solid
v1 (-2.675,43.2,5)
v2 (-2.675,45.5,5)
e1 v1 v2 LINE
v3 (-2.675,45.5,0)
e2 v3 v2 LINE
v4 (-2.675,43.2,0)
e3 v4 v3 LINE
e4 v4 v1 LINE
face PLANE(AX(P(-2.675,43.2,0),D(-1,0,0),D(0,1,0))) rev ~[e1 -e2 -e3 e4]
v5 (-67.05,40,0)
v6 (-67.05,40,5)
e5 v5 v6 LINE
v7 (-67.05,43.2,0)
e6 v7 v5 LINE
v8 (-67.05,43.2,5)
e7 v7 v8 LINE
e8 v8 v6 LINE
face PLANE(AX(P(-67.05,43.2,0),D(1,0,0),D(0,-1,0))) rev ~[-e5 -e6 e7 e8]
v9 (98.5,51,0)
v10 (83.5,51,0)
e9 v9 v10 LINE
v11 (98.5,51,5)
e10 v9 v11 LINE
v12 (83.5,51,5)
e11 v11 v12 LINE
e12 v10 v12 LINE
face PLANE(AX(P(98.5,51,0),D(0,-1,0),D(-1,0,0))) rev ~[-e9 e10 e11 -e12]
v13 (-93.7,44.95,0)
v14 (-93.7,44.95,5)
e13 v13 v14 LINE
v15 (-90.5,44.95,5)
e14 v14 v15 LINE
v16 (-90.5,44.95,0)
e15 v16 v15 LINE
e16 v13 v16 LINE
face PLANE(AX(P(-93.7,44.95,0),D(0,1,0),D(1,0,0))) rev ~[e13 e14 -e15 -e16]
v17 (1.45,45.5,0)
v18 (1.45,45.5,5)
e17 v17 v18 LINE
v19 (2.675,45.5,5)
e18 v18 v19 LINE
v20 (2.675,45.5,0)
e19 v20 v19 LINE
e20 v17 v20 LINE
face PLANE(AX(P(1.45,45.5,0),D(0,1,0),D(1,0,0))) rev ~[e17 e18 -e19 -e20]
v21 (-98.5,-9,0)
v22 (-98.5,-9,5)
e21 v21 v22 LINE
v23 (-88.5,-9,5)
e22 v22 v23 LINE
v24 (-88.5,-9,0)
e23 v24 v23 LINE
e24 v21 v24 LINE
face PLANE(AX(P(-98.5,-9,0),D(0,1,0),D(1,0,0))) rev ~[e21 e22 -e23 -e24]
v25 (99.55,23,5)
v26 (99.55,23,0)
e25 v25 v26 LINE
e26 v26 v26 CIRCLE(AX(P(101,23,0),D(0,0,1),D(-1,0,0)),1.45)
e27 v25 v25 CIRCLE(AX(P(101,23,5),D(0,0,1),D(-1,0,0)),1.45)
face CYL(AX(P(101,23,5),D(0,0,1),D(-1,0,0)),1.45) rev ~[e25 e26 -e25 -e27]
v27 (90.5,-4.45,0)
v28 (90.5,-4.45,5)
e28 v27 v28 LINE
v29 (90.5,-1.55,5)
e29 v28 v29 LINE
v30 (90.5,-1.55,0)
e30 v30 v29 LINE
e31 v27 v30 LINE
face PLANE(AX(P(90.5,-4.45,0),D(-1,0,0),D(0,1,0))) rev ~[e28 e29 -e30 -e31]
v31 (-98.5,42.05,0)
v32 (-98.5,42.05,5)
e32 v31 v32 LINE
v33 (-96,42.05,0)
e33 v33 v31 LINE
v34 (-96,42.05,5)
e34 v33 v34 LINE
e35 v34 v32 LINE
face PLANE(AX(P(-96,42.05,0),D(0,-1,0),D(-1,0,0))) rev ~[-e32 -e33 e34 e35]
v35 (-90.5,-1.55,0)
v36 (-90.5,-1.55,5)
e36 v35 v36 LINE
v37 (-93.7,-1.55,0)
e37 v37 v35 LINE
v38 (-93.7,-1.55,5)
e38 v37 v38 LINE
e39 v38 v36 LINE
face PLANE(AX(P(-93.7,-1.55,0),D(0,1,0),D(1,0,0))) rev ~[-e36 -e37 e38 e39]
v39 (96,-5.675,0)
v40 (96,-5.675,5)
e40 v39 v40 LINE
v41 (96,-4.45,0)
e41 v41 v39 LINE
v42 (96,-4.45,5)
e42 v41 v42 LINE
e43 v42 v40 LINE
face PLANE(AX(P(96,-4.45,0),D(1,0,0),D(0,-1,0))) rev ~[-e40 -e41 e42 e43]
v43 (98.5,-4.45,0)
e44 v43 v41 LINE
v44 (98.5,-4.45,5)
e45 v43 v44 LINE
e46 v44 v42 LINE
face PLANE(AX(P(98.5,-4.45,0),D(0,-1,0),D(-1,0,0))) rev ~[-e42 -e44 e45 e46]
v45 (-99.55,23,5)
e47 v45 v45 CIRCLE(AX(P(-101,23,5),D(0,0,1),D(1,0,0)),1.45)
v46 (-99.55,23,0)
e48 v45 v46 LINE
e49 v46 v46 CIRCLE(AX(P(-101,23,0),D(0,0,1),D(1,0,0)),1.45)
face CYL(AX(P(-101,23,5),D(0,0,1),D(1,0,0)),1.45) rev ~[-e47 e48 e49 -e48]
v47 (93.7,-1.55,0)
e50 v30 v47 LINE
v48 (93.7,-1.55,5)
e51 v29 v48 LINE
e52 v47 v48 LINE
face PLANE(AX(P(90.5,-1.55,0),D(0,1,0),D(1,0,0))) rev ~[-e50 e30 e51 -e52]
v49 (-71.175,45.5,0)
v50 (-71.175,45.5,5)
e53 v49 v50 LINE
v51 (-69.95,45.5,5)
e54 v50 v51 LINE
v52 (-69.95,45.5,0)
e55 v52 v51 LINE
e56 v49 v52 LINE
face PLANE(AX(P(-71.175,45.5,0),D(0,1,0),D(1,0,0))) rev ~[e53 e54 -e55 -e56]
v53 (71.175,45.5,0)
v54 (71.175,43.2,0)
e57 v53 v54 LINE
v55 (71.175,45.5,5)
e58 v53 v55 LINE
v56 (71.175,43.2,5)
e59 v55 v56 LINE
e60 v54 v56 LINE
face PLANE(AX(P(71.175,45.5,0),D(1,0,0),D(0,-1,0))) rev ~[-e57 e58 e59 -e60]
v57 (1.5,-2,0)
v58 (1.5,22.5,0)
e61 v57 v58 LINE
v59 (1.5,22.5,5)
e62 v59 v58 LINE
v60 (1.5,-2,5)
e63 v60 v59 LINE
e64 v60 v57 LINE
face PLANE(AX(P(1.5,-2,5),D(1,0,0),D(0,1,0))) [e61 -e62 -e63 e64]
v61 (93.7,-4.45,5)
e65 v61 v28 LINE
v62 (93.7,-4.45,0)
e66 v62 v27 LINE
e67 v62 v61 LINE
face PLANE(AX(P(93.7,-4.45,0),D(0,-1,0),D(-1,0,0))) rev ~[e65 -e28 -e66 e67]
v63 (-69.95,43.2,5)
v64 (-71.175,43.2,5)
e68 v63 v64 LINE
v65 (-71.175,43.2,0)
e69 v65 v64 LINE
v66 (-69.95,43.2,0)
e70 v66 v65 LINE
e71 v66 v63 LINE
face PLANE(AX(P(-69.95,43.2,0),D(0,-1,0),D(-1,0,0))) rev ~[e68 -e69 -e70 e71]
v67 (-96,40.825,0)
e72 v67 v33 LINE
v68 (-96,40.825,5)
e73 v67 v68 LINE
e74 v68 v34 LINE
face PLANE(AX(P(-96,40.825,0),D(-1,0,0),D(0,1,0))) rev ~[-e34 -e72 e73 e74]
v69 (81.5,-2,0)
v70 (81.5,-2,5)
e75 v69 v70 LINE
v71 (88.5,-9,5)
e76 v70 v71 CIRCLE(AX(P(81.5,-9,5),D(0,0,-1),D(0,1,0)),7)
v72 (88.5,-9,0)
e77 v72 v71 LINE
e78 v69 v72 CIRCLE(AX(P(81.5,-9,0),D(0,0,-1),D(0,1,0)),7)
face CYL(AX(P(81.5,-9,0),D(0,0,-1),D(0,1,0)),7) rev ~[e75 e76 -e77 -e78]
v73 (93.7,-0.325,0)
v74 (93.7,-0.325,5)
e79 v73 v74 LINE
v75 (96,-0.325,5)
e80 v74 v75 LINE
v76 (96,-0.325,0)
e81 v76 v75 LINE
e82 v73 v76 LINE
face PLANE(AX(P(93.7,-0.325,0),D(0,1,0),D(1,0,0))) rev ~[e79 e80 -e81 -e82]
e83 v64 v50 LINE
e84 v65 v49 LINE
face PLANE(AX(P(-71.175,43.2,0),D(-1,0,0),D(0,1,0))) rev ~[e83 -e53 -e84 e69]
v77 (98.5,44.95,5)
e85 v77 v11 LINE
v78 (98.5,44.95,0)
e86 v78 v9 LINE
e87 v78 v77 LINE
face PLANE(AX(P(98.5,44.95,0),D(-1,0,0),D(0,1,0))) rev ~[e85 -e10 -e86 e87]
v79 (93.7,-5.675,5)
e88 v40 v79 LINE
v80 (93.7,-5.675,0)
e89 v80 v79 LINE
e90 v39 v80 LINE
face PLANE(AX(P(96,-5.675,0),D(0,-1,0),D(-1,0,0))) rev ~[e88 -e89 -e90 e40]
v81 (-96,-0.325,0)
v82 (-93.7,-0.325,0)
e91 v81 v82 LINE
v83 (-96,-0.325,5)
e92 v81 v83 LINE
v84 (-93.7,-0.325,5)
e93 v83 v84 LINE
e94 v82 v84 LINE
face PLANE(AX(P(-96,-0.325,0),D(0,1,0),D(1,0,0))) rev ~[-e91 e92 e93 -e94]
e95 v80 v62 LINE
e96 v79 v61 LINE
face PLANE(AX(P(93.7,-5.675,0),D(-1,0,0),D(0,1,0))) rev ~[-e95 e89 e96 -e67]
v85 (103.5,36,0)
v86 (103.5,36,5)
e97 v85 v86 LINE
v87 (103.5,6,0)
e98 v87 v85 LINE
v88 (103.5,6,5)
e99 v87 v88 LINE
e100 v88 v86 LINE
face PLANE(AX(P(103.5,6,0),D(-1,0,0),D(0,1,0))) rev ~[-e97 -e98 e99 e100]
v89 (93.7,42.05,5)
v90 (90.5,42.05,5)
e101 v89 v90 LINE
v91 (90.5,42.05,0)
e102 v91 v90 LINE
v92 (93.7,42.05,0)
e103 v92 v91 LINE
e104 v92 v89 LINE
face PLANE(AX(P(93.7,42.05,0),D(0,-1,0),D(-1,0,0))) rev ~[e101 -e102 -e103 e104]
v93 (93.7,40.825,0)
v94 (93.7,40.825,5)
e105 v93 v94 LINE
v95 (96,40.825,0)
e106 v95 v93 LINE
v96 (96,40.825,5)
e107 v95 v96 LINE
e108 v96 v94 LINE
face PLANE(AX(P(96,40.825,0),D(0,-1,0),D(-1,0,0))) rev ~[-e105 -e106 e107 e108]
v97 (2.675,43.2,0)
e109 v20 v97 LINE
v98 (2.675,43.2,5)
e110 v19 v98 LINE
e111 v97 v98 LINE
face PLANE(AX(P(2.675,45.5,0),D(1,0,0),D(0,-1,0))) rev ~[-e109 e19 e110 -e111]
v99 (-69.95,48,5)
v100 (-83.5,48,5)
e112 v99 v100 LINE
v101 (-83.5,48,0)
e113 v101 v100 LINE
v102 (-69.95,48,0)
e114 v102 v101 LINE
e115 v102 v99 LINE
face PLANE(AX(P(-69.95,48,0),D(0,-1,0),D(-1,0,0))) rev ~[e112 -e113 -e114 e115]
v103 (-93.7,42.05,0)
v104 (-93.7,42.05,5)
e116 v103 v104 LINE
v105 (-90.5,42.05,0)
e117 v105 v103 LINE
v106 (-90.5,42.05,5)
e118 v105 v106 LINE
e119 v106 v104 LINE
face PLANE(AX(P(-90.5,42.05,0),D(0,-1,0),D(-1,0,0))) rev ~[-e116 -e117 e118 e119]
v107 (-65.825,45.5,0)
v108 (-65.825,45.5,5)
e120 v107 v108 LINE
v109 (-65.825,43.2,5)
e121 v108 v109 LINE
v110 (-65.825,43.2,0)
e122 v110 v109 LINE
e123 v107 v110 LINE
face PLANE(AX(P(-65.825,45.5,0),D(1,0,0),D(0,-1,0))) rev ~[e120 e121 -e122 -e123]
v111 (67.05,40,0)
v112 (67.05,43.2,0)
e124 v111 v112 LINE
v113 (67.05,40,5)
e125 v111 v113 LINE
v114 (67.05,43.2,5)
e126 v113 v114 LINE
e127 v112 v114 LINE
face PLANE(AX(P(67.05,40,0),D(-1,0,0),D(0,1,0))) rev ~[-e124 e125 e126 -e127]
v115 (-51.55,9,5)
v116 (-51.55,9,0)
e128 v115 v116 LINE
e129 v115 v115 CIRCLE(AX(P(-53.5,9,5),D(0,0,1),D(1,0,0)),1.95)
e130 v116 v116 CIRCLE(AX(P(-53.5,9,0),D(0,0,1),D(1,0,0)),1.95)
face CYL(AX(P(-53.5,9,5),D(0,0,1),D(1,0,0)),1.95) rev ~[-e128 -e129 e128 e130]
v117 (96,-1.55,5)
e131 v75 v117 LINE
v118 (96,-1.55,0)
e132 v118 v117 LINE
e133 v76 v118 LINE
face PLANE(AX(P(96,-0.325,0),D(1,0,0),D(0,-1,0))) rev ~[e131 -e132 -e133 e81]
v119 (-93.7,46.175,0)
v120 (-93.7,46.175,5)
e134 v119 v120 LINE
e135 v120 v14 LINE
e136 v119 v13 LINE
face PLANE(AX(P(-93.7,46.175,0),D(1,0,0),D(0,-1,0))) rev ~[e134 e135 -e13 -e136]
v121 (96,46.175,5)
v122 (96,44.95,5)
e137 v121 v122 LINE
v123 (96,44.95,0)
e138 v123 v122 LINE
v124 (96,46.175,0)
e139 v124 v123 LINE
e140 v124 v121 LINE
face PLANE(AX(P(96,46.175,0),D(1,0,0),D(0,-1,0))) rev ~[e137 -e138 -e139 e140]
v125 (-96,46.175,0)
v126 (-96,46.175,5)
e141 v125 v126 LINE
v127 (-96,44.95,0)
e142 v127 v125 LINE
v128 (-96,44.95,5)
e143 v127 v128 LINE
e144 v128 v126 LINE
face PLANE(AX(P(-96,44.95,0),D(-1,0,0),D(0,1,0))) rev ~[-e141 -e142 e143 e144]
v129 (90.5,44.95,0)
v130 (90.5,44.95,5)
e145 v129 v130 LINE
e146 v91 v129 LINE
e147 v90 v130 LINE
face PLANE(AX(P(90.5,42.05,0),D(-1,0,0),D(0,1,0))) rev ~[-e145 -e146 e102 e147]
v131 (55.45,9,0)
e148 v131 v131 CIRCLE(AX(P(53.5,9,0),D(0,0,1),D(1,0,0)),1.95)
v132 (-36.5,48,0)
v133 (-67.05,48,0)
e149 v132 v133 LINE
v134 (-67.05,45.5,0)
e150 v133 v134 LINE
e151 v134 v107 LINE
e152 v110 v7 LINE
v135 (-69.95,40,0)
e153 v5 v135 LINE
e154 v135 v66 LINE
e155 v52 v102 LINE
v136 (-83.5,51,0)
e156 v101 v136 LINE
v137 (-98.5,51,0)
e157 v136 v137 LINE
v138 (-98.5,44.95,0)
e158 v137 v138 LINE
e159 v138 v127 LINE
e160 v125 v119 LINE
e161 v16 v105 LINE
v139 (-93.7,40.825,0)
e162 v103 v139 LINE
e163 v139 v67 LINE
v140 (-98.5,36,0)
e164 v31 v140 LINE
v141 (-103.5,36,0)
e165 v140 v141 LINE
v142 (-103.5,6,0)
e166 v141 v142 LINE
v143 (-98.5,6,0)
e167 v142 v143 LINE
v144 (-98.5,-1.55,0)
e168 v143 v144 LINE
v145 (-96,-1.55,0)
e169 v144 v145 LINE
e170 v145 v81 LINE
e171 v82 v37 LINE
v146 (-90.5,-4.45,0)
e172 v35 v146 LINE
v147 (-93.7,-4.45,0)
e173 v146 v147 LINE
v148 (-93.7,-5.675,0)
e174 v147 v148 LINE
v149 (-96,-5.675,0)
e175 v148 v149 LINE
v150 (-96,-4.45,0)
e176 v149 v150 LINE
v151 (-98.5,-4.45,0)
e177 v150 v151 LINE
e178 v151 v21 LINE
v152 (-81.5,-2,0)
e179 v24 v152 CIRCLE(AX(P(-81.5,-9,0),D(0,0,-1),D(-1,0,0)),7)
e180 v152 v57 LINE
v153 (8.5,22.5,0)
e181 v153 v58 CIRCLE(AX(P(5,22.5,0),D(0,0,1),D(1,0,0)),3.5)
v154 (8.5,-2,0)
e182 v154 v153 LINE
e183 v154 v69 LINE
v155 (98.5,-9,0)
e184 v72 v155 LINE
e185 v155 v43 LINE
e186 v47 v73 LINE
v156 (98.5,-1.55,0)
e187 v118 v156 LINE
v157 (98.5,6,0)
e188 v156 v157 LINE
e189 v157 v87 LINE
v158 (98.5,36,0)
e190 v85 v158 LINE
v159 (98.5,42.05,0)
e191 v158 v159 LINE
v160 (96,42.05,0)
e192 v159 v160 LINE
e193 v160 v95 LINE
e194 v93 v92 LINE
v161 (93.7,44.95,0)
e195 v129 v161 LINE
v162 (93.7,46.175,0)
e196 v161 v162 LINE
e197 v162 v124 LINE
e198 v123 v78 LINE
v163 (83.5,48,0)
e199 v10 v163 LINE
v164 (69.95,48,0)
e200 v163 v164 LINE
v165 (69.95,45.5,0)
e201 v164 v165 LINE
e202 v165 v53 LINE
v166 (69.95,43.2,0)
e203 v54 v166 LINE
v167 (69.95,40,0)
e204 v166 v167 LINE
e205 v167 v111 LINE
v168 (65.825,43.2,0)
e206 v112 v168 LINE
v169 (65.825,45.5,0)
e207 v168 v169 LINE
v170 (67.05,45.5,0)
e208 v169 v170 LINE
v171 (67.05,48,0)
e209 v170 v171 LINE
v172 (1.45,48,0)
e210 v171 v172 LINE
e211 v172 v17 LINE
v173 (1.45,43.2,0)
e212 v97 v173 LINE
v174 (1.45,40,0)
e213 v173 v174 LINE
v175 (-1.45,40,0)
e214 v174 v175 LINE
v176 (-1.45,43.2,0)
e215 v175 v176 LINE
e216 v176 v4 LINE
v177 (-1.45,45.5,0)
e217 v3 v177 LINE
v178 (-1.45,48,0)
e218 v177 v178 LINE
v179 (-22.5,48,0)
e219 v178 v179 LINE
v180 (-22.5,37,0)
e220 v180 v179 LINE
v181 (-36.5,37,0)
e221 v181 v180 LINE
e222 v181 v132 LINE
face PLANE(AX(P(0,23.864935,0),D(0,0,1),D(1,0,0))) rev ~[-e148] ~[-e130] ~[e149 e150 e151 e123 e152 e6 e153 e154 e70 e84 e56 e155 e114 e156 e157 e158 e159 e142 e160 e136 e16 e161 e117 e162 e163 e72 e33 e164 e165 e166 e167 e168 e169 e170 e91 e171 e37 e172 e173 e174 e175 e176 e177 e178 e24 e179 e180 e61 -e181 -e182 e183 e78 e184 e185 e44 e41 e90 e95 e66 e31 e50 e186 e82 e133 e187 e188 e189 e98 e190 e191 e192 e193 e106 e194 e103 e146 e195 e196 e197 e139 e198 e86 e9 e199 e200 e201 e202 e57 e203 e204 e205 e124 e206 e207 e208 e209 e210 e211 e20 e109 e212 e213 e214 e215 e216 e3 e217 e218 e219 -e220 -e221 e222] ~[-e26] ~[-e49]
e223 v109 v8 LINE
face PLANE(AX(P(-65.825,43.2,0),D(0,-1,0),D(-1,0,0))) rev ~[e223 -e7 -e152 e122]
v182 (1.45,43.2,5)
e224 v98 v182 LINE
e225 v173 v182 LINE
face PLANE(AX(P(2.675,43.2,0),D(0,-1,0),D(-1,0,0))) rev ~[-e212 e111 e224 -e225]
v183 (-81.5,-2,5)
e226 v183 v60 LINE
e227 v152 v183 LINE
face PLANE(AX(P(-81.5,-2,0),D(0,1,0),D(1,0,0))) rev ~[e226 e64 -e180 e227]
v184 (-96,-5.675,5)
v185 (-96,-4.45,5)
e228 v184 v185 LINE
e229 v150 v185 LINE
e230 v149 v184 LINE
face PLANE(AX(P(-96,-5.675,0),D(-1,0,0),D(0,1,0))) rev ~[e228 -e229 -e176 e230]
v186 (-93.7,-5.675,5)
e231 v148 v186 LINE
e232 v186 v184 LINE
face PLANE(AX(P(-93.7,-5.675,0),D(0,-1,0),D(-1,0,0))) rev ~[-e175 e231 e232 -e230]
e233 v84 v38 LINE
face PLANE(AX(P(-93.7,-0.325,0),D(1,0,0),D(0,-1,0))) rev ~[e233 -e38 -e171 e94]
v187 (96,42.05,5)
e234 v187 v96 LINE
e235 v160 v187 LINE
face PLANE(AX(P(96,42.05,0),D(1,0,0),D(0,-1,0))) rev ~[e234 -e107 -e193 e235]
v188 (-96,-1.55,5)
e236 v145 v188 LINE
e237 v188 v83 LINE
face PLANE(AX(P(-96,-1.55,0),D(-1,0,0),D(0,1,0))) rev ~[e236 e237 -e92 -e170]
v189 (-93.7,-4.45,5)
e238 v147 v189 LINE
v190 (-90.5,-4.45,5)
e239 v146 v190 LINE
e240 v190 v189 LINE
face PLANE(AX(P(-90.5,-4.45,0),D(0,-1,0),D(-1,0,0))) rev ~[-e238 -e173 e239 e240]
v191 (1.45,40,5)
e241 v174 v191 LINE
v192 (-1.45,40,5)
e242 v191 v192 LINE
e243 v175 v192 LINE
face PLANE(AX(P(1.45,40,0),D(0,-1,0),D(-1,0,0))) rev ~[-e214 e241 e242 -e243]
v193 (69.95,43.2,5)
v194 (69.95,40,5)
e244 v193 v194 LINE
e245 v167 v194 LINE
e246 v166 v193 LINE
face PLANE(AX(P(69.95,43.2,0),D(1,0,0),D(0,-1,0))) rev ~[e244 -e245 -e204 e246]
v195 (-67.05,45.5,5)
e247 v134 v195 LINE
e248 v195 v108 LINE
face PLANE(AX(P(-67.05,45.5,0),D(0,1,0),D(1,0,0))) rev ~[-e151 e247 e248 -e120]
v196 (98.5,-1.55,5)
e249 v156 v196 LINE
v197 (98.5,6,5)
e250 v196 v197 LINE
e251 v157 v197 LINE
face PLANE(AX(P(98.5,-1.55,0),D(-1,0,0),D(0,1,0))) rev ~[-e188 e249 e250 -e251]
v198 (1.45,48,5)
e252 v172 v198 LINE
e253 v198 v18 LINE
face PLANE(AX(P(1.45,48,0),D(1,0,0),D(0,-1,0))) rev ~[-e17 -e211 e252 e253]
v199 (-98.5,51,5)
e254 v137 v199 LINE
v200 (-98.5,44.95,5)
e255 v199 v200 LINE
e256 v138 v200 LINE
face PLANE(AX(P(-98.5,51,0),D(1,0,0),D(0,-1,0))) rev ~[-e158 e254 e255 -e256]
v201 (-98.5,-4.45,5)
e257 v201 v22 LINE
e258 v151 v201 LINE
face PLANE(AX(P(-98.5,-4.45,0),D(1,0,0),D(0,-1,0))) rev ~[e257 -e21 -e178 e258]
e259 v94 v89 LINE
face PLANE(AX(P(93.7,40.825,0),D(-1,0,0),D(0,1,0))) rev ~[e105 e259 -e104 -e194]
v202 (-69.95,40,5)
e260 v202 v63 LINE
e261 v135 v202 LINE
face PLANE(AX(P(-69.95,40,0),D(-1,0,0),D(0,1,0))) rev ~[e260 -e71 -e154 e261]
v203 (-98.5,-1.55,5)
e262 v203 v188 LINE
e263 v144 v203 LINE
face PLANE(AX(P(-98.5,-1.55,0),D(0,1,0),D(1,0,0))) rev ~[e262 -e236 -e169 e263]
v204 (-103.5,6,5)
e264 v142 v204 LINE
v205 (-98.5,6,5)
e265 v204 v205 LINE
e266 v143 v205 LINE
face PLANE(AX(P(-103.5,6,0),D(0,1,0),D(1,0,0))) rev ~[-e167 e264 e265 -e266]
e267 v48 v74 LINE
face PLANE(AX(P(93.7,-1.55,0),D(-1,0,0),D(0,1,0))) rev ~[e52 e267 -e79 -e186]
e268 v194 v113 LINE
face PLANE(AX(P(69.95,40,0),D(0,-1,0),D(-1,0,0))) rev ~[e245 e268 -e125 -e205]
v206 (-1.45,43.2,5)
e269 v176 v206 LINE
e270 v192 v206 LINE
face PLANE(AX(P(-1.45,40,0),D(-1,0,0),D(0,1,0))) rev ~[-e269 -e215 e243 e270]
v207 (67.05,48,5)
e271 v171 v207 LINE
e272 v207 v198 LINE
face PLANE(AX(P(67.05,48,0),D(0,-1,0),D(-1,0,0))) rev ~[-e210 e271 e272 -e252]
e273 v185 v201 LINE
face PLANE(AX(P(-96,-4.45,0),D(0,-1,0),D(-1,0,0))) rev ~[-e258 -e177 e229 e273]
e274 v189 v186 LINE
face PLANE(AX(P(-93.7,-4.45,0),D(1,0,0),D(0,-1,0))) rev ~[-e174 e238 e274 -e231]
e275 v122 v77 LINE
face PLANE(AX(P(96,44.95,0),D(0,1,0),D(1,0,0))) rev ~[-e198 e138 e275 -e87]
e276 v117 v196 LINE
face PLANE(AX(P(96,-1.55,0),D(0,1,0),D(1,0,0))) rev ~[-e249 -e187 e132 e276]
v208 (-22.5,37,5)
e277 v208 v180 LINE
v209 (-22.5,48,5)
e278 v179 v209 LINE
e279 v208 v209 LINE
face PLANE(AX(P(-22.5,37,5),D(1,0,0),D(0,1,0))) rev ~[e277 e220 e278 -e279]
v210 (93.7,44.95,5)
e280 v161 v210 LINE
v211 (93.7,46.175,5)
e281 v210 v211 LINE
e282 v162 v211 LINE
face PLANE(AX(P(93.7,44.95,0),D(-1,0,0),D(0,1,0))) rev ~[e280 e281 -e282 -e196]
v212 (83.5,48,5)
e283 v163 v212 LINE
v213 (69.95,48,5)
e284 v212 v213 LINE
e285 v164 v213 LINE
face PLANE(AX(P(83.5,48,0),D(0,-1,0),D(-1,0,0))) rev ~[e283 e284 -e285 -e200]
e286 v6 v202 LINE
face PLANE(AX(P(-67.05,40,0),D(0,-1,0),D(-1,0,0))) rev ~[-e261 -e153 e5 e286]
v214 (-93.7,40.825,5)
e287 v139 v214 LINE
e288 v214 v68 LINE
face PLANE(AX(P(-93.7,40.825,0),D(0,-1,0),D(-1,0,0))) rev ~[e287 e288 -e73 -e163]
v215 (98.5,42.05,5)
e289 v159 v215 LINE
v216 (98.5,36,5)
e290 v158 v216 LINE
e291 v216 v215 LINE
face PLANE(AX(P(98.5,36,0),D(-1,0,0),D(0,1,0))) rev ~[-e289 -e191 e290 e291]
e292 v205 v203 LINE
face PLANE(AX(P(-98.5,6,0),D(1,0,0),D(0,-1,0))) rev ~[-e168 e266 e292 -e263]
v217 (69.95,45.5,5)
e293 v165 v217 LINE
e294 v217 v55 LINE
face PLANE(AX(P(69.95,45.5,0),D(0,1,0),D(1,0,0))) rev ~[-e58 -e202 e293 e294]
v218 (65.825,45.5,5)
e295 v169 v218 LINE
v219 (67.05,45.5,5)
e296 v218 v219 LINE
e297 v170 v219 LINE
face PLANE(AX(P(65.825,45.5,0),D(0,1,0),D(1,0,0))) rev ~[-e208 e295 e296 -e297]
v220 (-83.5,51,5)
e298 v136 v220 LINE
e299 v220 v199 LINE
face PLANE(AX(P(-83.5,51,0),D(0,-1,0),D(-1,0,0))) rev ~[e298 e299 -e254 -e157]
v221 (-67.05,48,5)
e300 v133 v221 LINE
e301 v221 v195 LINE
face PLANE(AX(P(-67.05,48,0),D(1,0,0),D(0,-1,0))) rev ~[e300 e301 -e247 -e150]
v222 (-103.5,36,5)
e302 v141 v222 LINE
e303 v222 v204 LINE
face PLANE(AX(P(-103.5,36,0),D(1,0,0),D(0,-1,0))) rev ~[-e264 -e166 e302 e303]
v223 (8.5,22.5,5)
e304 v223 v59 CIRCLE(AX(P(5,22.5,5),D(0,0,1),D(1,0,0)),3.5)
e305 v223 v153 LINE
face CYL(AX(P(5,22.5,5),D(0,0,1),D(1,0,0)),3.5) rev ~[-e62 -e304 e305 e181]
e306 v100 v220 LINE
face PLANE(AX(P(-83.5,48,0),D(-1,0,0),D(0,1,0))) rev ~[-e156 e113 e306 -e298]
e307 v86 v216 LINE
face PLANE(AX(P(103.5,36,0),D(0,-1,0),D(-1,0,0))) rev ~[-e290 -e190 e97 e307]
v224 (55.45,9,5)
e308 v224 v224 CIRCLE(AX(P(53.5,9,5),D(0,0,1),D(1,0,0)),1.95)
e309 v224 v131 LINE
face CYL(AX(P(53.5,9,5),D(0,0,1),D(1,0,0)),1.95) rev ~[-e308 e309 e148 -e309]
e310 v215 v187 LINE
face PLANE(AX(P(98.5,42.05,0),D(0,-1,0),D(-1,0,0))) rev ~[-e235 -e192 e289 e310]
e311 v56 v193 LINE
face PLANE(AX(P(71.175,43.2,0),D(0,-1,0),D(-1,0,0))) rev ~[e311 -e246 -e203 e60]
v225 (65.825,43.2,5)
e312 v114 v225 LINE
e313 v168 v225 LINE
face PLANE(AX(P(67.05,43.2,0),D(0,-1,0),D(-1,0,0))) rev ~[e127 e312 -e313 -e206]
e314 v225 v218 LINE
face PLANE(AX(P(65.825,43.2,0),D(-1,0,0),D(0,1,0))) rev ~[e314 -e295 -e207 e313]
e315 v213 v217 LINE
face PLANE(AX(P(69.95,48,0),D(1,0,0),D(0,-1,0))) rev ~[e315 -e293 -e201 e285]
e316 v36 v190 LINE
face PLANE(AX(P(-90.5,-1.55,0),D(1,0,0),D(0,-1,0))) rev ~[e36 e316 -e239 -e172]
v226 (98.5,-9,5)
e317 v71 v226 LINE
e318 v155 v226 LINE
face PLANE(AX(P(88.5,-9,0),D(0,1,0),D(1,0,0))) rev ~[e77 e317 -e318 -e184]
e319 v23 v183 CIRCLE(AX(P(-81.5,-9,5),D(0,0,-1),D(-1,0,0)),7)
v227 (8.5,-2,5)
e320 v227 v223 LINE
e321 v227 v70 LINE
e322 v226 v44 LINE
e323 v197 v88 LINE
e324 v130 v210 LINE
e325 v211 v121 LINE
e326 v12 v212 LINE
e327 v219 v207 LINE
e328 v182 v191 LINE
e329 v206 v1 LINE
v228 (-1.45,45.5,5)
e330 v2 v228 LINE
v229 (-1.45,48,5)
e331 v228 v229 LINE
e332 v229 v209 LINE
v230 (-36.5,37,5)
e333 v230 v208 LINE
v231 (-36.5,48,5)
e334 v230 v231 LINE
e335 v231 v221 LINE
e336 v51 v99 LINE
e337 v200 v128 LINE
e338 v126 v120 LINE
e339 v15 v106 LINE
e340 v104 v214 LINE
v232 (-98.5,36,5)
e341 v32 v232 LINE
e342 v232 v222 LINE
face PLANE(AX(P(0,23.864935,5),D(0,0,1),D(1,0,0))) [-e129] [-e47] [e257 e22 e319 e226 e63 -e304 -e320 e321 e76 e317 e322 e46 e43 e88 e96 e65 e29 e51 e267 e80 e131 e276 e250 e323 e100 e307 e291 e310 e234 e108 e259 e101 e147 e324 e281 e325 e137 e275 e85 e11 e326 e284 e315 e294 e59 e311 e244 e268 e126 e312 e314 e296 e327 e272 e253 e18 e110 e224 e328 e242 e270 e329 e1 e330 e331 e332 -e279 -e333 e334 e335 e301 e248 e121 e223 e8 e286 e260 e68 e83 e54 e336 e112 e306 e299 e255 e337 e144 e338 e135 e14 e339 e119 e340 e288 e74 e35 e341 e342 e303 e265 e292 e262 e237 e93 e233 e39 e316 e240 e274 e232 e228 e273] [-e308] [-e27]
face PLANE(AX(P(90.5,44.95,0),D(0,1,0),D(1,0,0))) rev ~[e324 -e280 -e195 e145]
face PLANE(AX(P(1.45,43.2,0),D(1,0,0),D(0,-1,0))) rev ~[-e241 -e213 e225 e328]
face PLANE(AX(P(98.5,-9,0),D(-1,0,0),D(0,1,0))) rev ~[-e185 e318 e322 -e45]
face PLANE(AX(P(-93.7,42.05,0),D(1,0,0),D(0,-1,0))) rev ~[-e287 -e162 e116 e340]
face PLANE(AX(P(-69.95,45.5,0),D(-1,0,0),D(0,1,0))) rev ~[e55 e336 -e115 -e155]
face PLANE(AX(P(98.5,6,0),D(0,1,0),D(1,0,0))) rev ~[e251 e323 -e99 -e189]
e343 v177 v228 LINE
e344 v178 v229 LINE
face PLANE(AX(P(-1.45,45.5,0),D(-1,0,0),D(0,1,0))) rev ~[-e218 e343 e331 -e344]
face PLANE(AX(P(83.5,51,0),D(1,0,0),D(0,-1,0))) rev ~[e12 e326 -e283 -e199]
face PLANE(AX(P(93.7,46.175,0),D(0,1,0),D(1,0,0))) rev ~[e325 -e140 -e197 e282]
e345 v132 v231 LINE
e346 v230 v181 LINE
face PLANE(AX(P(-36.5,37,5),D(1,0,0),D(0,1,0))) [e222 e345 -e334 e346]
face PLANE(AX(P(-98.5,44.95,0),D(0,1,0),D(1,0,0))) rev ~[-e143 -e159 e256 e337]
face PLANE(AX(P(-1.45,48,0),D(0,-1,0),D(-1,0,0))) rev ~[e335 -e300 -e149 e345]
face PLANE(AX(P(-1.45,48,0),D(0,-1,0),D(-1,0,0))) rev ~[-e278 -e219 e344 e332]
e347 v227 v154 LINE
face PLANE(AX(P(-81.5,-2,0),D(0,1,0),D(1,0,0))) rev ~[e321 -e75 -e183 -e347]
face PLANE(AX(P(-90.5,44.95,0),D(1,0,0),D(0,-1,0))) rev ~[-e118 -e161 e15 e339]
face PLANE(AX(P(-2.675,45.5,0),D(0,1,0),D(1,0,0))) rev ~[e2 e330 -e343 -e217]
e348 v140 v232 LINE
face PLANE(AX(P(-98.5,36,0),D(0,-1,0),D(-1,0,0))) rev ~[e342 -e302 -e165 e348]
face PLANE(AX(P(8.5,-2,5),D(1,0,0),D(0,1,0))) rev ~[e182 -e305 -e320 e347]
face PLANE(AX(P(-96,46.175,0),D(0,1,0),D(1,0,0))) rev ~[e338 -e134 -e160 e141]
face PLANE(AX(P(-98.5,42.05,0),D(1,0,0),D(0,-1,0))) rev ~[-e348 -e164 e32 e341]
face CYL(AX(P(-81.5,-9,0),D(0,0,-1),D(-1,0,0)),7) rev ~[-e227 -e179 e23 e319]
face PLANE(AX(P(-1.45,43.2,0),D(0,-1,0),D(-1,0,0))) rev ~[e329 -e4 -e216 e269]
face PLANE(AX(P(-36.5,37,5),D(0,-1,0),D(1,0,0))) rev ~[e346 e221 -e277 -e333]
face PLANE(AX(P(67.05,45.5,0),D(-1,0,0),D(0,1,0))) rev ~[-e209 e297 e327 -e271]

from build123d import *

# Parameters (mm, degrees)
BOSS_EXTRUDE1_DEPTH = 5
SKETCH2_W           = 14
SKETCH2_H           = 12
CUT_EXTRUDE1_DEPTH  = 116.491341667
SKETCH3_R           = 3.5
SKETCH3_W           = 7
SKETCH3_H           = 24.5
CUT_EXTRUDE2_DEPTH  = 116.491341667
SKETCH4_R           = 1.45
SKETCH4_W           = 8
SKETCH4_H           = 2.9
SKETCH4_W_2         = 2.3
SKETCH4_H_2         = 5.35
SKETCH4_W_3         = 2.9
SKETCH4_H_3         = 8
SKETCH4_W_4         = 5.35
SKETCH4_H_4         = 2.3
CUT_EXTRUDE3_DEPTH  = 116.491341667
SKETCH5_R           = 1.95
CUT_EXTRUDE4_DEPTH  = 116.491341667


with BuildPart() as part:
    # Sketch1 → Boss-Extrude1 (new body)
    with BuildSketch(Plane.XY):
        with BuildLine():
            Line((-83.5, 48), (-83.5, 51))
            Line((-83.5, 51), (-98.5, 51))
            Line((-98.5, 51), (-98.5, 44.95))
            Line((-98.5, 44.95), (-96, 44.95))
            Line((-96, 44.95), (-96, 46.175))
            Line((-96, 46.175), (-93.7, 46.175))
            Line((-93.7, 46.175), (-93.7, 44.95))
            Line((-93.7, 44.95), (-90.5, 44.95))
            Line((-90.5, 44.95), (-90.5, 42.05))
            Line((-90.5, 42.05), (-93.7, 42.05))
            Line((-93.7, 42.05), (-93.7, 40.825))
            Line((-93.7, 40.825), (-96, 40.825))
            Line((-96, 40.825), (-96, 42.05))
            Line((-96, 42.05), (-98.5, 42.05))
            Line((-98.5, 42.05), (-98.5, 36))
            Line((-98.5, 36), (-103.5, 36))
            Line((-103.5, 36), (-103.5, 6))
            Line((-103.5, 6), (-98.5, 6))
            Line((-98.5, 6), (-98.5, -1.55))
            Line((-98.5, -1.55), (-96, -1.55))
            Line((-96, -1.55), (-96, -0.325))
            Line((-96, -0.325), (-93.7, -0.325))
            Line((-93.7, -0.325), (-93.7, -1.55))
            Line((-93.7, -1.55), (-90.5, -1.55))
            Line((-90.5, -1.55), (-90.5, -4.45))
            Line((-90.5, -4.45), (-93.7, -4.45))
            Line((-93.7, -4.45), (-93.7, -5.675))
            Line((-93.7, -5.675), (-96, -5.675))
            Line((-96, -5.675), (-96, -4.45))
            Line((-96, -4.45), (-98.5, -4.45))
            Line((-98.5, -4.45), (-98.5, -9))
            Line((-98.5, -9), (-88.5, -9))
            ThreePointArc((-88.5, -9), (-86.449747468, -4.050252532), (-81.5, -2))
            Line((-81.5, -2), (81.5, -2))
            ThreePointArc((81.5, -2), (86.449747468, -4.050252532), (88.5, -9))
            Line((88.5, -9), (98.5, -9))
            Line((98.5, -9), (98.5, -4.45))
            Line((98.5, -4.45), (96, -4.45))
            Line((96, -4.45), (96, -5.675))
            Line((96, -5.675), (93.7, -5.675))
            Line((93.7, -5.675), (93.7, -4.45))
            Line((93.7, -4.45), (90.5, -4.45))
            Line((90.5, -4.45), (90.5, -1.55))
            Line((90.5, -1.55), (93.7, -1.55))
            Line((93.7, -1.55), (93.7, -0.325))
            Line((93.7, -0.325), (96, -0.325))
            Line((96, -0.325), (96, -1.55))
            Line((96, -1.55), (98.5, -1.55))
            Line((98.5, -1.55), (98.5, 6))
            Line((98.5, 6), (103.5, 6))
            Line((103.5, 6), (103.5, 36))
            Line((103.5, 36), (98.5, 36))
            Line((98.5, 36), (98.5, 42.05))
            Line((98.5, 42.05), (96, 42.05))
            Line((96, 42.05), (96, 40.825))
            Line((96, 40.825), (93.7, 40.825))
            Line((93.7, 40.825), (93.7, 42.05))
            Line((93.7, 42.05), (90.5, 42.05))
            Line((90.5, 42.05), (90.5, 44.95))
            Line((90.5, 44.95), (93.7, 44.95))
            Line((93.7, 44.95), (93.7, 46.175))
            Line((93.7, 46.175), (96, 46.175))
            Line((96, 46.175), (96, 44.95))
            Line((96, 44.95), (98.5, 44.95))
            Line((98.5, 44.95), (98.5, 51))
            Line((98.5, 51), (83.5, 51))
            Line((83.5, 51), (83.5, 48))
            Line((83.5, 48), (69.95, 48))
            Line((69.95, 48), (69.95, 45.5))
            Line((69.95, 45.5), (71.175, 45.5))
            Line((71.175, 45.5), (71.175, 43.2))
            Line((71.175, 43.2), (69.95, 43.2))
            Line((69.95, 43.2), (69.95, 40))
            Line((69.95, 40), (67.05, 40))
            Line((67.05, 40), (67.05, 43.2))
            Line((67.05, 43.2), (65.825, 43.2))
            Line((65.825, 43.2), (65.825, 45.5))
            Line((65.825, 45.5), (67.05, 45.5))
            Line((67.05, 45.5), (67.05, 48))
            Line((67.05, 48), (1.45, 48))
            Line((1.45, 48), (1.45, 45.5))
            Line((1.45, 45.5), (2.675, 45.5))
            Line((2.675, 45.5), (2.675, 43.2))
            Line((2.675, 43.2), (1.45, 43.2))
            Line((1.45, 43.2), (1.45, 40))
            Line((1.45, 40), (-1.45, 40))
            Line((-1.45, 40), (-1.45, 43.2))
            Line((-1.45, 43.2), (-2.675, 43.2))
            Line((-2.675, 43.2), (-2.675, 45.5))
            Line((-2.675, 45.5), (-1.45, 45.5))
            Line((-1.45, 45.5), (-1.45, 48))
            Line((-1.45, 48), (-67.05, 48))
            Line((-67.05, 48), (-67.05, 45.5))
            Line((-67.05, 45.5), (-65.825, 45.5))
            Line((-65.825, 45.5), (-65.825, 43.2))
            Line((-65.825, 43.2), (-67.05, 43.2))
            Line((-67.05, 43.2), (-67.05, 40))
            Line((-67.05, 40), (-69.95, 40))
            Line((-69.95, 40), (-69.95, 43.2))
            Line((-69.95, 43.2), (-71.175, 43.2))
            Line((-71.175, 43.2), (-71.175, 45.5))
            Line((-71.175, 45.5), (-69.95, 45.5))
            Line((-69.95, 45.5), (-69.95, 48))
            Line((-69.95, 48), (-83.5, 48))
        make_face()
    extrude(amount=BOSS_EXTRUDE1_DEPTH)

    # Sketch2 → Cut-Extrude1 (cut, through all)
    with BuildSketch(Plane.XY.offset(5)):
        with Locations((-29.5, 43)):
            Rectangle(SKETCH2_W, SKETCH2_H)
    extrude(amount=-CUT_EXTRUDE1_DEPTH, mode=Mode.SUBTRACT)

    # Sketch3 → Cut-Extrude2 (cut, through all)
    with BuildSketch(Plane.XY.offset(5)):
        with Locations((5, 22.5)):
            Circle(SKETCH3_R)
        with Locations((5, 10.25)):
            Rectangle(SKETCH3_W, SKETCH3_H)
    extrude(amount=-CUT_EXTRUDE2_DEPTH, mode=Mode.SUBTRACT)

    # Sketch4 → Cut-Extrude3 (cut, through all)
    with BuildSketch(Plane.XY.offset(5)):
        with Locations((-101, 23)):
            Circle(SKETCH4_R)
        with Locations(Location((101, 23, 0), (0, 0, 180))):
            Circle(SKETCH4_R)
        with Locations((-94.5, 43.5)):
            Rectangle(SKETCH4_W, SKETCH4_H)
        with Locations((-94.85, 43.5)):
            Rectangle(SKETCH4_W_2, SKETCH4_H_2)
        with Locations((-94.5, -3)):
            Rectangle(SKETCH4_W, SKETCH4_H)
        with Locations((-94.85, -3)):
            Rectangle(SKETCH4_W_2, SKETCH4_H_2)
        with Locations((94.85, -3)):
            Rectangle(SKETCH4_W_2, SKETCH4_H_2)
        with Locations((94.5, -3)):
            Rectangle(SKETCH4_W, SKETCH4_H)
        with Locations((94.85, 43.5)):
            Rectangle(SKETCH4_W_2, SKETCH4_H_2)
        with Locations((94.5, 43.5)):
            Rectangle(SKETCH4_W, SKETCH4_H)
        with Locations((-68.5, 44)):
            Rectangle(SKETCH4_W_3, SKETCH4_H_3)
        with Locations((-68.5, 44.35)):
            Rectangle(SKETCH4_W_4, SKETCH4_H_4)
        with Locations((0, 44)):
            Rectangle(SKETCH4_W_3, SKETCH4_H_3)
        with Locations((0, 44.35)):
            Rectangle(SKETCH4_W_4, SKETCH4_H_4)
        with Locations((68.5, 44.35)):
            Rectangle(SKETCH4_W_4, SKETCH4_H_4)
        with Locations((68.5, 44)):
            Rectangle(SKETCH4_W_3, SKETCH4_H_3)
    extrude(amount=-CUT_EXTRUDE3_DEPTH, mode=Mode.SUBTRACT)

    # Sketch5 → Cut-Extrude4 (cut, through all)
    with BuildSketch(Plane.XY.offset(5)):
        with Locations((-53.5, 9)):
            Circle(SKETCH5_R)
        with Locations((53.5, 9)):
            Circle(SKETCH5_R)
    extrude(amount=-CUT_EXTRUDE4_DEPTH, mode=Mode.SUBTRACT)


solid = part.part
